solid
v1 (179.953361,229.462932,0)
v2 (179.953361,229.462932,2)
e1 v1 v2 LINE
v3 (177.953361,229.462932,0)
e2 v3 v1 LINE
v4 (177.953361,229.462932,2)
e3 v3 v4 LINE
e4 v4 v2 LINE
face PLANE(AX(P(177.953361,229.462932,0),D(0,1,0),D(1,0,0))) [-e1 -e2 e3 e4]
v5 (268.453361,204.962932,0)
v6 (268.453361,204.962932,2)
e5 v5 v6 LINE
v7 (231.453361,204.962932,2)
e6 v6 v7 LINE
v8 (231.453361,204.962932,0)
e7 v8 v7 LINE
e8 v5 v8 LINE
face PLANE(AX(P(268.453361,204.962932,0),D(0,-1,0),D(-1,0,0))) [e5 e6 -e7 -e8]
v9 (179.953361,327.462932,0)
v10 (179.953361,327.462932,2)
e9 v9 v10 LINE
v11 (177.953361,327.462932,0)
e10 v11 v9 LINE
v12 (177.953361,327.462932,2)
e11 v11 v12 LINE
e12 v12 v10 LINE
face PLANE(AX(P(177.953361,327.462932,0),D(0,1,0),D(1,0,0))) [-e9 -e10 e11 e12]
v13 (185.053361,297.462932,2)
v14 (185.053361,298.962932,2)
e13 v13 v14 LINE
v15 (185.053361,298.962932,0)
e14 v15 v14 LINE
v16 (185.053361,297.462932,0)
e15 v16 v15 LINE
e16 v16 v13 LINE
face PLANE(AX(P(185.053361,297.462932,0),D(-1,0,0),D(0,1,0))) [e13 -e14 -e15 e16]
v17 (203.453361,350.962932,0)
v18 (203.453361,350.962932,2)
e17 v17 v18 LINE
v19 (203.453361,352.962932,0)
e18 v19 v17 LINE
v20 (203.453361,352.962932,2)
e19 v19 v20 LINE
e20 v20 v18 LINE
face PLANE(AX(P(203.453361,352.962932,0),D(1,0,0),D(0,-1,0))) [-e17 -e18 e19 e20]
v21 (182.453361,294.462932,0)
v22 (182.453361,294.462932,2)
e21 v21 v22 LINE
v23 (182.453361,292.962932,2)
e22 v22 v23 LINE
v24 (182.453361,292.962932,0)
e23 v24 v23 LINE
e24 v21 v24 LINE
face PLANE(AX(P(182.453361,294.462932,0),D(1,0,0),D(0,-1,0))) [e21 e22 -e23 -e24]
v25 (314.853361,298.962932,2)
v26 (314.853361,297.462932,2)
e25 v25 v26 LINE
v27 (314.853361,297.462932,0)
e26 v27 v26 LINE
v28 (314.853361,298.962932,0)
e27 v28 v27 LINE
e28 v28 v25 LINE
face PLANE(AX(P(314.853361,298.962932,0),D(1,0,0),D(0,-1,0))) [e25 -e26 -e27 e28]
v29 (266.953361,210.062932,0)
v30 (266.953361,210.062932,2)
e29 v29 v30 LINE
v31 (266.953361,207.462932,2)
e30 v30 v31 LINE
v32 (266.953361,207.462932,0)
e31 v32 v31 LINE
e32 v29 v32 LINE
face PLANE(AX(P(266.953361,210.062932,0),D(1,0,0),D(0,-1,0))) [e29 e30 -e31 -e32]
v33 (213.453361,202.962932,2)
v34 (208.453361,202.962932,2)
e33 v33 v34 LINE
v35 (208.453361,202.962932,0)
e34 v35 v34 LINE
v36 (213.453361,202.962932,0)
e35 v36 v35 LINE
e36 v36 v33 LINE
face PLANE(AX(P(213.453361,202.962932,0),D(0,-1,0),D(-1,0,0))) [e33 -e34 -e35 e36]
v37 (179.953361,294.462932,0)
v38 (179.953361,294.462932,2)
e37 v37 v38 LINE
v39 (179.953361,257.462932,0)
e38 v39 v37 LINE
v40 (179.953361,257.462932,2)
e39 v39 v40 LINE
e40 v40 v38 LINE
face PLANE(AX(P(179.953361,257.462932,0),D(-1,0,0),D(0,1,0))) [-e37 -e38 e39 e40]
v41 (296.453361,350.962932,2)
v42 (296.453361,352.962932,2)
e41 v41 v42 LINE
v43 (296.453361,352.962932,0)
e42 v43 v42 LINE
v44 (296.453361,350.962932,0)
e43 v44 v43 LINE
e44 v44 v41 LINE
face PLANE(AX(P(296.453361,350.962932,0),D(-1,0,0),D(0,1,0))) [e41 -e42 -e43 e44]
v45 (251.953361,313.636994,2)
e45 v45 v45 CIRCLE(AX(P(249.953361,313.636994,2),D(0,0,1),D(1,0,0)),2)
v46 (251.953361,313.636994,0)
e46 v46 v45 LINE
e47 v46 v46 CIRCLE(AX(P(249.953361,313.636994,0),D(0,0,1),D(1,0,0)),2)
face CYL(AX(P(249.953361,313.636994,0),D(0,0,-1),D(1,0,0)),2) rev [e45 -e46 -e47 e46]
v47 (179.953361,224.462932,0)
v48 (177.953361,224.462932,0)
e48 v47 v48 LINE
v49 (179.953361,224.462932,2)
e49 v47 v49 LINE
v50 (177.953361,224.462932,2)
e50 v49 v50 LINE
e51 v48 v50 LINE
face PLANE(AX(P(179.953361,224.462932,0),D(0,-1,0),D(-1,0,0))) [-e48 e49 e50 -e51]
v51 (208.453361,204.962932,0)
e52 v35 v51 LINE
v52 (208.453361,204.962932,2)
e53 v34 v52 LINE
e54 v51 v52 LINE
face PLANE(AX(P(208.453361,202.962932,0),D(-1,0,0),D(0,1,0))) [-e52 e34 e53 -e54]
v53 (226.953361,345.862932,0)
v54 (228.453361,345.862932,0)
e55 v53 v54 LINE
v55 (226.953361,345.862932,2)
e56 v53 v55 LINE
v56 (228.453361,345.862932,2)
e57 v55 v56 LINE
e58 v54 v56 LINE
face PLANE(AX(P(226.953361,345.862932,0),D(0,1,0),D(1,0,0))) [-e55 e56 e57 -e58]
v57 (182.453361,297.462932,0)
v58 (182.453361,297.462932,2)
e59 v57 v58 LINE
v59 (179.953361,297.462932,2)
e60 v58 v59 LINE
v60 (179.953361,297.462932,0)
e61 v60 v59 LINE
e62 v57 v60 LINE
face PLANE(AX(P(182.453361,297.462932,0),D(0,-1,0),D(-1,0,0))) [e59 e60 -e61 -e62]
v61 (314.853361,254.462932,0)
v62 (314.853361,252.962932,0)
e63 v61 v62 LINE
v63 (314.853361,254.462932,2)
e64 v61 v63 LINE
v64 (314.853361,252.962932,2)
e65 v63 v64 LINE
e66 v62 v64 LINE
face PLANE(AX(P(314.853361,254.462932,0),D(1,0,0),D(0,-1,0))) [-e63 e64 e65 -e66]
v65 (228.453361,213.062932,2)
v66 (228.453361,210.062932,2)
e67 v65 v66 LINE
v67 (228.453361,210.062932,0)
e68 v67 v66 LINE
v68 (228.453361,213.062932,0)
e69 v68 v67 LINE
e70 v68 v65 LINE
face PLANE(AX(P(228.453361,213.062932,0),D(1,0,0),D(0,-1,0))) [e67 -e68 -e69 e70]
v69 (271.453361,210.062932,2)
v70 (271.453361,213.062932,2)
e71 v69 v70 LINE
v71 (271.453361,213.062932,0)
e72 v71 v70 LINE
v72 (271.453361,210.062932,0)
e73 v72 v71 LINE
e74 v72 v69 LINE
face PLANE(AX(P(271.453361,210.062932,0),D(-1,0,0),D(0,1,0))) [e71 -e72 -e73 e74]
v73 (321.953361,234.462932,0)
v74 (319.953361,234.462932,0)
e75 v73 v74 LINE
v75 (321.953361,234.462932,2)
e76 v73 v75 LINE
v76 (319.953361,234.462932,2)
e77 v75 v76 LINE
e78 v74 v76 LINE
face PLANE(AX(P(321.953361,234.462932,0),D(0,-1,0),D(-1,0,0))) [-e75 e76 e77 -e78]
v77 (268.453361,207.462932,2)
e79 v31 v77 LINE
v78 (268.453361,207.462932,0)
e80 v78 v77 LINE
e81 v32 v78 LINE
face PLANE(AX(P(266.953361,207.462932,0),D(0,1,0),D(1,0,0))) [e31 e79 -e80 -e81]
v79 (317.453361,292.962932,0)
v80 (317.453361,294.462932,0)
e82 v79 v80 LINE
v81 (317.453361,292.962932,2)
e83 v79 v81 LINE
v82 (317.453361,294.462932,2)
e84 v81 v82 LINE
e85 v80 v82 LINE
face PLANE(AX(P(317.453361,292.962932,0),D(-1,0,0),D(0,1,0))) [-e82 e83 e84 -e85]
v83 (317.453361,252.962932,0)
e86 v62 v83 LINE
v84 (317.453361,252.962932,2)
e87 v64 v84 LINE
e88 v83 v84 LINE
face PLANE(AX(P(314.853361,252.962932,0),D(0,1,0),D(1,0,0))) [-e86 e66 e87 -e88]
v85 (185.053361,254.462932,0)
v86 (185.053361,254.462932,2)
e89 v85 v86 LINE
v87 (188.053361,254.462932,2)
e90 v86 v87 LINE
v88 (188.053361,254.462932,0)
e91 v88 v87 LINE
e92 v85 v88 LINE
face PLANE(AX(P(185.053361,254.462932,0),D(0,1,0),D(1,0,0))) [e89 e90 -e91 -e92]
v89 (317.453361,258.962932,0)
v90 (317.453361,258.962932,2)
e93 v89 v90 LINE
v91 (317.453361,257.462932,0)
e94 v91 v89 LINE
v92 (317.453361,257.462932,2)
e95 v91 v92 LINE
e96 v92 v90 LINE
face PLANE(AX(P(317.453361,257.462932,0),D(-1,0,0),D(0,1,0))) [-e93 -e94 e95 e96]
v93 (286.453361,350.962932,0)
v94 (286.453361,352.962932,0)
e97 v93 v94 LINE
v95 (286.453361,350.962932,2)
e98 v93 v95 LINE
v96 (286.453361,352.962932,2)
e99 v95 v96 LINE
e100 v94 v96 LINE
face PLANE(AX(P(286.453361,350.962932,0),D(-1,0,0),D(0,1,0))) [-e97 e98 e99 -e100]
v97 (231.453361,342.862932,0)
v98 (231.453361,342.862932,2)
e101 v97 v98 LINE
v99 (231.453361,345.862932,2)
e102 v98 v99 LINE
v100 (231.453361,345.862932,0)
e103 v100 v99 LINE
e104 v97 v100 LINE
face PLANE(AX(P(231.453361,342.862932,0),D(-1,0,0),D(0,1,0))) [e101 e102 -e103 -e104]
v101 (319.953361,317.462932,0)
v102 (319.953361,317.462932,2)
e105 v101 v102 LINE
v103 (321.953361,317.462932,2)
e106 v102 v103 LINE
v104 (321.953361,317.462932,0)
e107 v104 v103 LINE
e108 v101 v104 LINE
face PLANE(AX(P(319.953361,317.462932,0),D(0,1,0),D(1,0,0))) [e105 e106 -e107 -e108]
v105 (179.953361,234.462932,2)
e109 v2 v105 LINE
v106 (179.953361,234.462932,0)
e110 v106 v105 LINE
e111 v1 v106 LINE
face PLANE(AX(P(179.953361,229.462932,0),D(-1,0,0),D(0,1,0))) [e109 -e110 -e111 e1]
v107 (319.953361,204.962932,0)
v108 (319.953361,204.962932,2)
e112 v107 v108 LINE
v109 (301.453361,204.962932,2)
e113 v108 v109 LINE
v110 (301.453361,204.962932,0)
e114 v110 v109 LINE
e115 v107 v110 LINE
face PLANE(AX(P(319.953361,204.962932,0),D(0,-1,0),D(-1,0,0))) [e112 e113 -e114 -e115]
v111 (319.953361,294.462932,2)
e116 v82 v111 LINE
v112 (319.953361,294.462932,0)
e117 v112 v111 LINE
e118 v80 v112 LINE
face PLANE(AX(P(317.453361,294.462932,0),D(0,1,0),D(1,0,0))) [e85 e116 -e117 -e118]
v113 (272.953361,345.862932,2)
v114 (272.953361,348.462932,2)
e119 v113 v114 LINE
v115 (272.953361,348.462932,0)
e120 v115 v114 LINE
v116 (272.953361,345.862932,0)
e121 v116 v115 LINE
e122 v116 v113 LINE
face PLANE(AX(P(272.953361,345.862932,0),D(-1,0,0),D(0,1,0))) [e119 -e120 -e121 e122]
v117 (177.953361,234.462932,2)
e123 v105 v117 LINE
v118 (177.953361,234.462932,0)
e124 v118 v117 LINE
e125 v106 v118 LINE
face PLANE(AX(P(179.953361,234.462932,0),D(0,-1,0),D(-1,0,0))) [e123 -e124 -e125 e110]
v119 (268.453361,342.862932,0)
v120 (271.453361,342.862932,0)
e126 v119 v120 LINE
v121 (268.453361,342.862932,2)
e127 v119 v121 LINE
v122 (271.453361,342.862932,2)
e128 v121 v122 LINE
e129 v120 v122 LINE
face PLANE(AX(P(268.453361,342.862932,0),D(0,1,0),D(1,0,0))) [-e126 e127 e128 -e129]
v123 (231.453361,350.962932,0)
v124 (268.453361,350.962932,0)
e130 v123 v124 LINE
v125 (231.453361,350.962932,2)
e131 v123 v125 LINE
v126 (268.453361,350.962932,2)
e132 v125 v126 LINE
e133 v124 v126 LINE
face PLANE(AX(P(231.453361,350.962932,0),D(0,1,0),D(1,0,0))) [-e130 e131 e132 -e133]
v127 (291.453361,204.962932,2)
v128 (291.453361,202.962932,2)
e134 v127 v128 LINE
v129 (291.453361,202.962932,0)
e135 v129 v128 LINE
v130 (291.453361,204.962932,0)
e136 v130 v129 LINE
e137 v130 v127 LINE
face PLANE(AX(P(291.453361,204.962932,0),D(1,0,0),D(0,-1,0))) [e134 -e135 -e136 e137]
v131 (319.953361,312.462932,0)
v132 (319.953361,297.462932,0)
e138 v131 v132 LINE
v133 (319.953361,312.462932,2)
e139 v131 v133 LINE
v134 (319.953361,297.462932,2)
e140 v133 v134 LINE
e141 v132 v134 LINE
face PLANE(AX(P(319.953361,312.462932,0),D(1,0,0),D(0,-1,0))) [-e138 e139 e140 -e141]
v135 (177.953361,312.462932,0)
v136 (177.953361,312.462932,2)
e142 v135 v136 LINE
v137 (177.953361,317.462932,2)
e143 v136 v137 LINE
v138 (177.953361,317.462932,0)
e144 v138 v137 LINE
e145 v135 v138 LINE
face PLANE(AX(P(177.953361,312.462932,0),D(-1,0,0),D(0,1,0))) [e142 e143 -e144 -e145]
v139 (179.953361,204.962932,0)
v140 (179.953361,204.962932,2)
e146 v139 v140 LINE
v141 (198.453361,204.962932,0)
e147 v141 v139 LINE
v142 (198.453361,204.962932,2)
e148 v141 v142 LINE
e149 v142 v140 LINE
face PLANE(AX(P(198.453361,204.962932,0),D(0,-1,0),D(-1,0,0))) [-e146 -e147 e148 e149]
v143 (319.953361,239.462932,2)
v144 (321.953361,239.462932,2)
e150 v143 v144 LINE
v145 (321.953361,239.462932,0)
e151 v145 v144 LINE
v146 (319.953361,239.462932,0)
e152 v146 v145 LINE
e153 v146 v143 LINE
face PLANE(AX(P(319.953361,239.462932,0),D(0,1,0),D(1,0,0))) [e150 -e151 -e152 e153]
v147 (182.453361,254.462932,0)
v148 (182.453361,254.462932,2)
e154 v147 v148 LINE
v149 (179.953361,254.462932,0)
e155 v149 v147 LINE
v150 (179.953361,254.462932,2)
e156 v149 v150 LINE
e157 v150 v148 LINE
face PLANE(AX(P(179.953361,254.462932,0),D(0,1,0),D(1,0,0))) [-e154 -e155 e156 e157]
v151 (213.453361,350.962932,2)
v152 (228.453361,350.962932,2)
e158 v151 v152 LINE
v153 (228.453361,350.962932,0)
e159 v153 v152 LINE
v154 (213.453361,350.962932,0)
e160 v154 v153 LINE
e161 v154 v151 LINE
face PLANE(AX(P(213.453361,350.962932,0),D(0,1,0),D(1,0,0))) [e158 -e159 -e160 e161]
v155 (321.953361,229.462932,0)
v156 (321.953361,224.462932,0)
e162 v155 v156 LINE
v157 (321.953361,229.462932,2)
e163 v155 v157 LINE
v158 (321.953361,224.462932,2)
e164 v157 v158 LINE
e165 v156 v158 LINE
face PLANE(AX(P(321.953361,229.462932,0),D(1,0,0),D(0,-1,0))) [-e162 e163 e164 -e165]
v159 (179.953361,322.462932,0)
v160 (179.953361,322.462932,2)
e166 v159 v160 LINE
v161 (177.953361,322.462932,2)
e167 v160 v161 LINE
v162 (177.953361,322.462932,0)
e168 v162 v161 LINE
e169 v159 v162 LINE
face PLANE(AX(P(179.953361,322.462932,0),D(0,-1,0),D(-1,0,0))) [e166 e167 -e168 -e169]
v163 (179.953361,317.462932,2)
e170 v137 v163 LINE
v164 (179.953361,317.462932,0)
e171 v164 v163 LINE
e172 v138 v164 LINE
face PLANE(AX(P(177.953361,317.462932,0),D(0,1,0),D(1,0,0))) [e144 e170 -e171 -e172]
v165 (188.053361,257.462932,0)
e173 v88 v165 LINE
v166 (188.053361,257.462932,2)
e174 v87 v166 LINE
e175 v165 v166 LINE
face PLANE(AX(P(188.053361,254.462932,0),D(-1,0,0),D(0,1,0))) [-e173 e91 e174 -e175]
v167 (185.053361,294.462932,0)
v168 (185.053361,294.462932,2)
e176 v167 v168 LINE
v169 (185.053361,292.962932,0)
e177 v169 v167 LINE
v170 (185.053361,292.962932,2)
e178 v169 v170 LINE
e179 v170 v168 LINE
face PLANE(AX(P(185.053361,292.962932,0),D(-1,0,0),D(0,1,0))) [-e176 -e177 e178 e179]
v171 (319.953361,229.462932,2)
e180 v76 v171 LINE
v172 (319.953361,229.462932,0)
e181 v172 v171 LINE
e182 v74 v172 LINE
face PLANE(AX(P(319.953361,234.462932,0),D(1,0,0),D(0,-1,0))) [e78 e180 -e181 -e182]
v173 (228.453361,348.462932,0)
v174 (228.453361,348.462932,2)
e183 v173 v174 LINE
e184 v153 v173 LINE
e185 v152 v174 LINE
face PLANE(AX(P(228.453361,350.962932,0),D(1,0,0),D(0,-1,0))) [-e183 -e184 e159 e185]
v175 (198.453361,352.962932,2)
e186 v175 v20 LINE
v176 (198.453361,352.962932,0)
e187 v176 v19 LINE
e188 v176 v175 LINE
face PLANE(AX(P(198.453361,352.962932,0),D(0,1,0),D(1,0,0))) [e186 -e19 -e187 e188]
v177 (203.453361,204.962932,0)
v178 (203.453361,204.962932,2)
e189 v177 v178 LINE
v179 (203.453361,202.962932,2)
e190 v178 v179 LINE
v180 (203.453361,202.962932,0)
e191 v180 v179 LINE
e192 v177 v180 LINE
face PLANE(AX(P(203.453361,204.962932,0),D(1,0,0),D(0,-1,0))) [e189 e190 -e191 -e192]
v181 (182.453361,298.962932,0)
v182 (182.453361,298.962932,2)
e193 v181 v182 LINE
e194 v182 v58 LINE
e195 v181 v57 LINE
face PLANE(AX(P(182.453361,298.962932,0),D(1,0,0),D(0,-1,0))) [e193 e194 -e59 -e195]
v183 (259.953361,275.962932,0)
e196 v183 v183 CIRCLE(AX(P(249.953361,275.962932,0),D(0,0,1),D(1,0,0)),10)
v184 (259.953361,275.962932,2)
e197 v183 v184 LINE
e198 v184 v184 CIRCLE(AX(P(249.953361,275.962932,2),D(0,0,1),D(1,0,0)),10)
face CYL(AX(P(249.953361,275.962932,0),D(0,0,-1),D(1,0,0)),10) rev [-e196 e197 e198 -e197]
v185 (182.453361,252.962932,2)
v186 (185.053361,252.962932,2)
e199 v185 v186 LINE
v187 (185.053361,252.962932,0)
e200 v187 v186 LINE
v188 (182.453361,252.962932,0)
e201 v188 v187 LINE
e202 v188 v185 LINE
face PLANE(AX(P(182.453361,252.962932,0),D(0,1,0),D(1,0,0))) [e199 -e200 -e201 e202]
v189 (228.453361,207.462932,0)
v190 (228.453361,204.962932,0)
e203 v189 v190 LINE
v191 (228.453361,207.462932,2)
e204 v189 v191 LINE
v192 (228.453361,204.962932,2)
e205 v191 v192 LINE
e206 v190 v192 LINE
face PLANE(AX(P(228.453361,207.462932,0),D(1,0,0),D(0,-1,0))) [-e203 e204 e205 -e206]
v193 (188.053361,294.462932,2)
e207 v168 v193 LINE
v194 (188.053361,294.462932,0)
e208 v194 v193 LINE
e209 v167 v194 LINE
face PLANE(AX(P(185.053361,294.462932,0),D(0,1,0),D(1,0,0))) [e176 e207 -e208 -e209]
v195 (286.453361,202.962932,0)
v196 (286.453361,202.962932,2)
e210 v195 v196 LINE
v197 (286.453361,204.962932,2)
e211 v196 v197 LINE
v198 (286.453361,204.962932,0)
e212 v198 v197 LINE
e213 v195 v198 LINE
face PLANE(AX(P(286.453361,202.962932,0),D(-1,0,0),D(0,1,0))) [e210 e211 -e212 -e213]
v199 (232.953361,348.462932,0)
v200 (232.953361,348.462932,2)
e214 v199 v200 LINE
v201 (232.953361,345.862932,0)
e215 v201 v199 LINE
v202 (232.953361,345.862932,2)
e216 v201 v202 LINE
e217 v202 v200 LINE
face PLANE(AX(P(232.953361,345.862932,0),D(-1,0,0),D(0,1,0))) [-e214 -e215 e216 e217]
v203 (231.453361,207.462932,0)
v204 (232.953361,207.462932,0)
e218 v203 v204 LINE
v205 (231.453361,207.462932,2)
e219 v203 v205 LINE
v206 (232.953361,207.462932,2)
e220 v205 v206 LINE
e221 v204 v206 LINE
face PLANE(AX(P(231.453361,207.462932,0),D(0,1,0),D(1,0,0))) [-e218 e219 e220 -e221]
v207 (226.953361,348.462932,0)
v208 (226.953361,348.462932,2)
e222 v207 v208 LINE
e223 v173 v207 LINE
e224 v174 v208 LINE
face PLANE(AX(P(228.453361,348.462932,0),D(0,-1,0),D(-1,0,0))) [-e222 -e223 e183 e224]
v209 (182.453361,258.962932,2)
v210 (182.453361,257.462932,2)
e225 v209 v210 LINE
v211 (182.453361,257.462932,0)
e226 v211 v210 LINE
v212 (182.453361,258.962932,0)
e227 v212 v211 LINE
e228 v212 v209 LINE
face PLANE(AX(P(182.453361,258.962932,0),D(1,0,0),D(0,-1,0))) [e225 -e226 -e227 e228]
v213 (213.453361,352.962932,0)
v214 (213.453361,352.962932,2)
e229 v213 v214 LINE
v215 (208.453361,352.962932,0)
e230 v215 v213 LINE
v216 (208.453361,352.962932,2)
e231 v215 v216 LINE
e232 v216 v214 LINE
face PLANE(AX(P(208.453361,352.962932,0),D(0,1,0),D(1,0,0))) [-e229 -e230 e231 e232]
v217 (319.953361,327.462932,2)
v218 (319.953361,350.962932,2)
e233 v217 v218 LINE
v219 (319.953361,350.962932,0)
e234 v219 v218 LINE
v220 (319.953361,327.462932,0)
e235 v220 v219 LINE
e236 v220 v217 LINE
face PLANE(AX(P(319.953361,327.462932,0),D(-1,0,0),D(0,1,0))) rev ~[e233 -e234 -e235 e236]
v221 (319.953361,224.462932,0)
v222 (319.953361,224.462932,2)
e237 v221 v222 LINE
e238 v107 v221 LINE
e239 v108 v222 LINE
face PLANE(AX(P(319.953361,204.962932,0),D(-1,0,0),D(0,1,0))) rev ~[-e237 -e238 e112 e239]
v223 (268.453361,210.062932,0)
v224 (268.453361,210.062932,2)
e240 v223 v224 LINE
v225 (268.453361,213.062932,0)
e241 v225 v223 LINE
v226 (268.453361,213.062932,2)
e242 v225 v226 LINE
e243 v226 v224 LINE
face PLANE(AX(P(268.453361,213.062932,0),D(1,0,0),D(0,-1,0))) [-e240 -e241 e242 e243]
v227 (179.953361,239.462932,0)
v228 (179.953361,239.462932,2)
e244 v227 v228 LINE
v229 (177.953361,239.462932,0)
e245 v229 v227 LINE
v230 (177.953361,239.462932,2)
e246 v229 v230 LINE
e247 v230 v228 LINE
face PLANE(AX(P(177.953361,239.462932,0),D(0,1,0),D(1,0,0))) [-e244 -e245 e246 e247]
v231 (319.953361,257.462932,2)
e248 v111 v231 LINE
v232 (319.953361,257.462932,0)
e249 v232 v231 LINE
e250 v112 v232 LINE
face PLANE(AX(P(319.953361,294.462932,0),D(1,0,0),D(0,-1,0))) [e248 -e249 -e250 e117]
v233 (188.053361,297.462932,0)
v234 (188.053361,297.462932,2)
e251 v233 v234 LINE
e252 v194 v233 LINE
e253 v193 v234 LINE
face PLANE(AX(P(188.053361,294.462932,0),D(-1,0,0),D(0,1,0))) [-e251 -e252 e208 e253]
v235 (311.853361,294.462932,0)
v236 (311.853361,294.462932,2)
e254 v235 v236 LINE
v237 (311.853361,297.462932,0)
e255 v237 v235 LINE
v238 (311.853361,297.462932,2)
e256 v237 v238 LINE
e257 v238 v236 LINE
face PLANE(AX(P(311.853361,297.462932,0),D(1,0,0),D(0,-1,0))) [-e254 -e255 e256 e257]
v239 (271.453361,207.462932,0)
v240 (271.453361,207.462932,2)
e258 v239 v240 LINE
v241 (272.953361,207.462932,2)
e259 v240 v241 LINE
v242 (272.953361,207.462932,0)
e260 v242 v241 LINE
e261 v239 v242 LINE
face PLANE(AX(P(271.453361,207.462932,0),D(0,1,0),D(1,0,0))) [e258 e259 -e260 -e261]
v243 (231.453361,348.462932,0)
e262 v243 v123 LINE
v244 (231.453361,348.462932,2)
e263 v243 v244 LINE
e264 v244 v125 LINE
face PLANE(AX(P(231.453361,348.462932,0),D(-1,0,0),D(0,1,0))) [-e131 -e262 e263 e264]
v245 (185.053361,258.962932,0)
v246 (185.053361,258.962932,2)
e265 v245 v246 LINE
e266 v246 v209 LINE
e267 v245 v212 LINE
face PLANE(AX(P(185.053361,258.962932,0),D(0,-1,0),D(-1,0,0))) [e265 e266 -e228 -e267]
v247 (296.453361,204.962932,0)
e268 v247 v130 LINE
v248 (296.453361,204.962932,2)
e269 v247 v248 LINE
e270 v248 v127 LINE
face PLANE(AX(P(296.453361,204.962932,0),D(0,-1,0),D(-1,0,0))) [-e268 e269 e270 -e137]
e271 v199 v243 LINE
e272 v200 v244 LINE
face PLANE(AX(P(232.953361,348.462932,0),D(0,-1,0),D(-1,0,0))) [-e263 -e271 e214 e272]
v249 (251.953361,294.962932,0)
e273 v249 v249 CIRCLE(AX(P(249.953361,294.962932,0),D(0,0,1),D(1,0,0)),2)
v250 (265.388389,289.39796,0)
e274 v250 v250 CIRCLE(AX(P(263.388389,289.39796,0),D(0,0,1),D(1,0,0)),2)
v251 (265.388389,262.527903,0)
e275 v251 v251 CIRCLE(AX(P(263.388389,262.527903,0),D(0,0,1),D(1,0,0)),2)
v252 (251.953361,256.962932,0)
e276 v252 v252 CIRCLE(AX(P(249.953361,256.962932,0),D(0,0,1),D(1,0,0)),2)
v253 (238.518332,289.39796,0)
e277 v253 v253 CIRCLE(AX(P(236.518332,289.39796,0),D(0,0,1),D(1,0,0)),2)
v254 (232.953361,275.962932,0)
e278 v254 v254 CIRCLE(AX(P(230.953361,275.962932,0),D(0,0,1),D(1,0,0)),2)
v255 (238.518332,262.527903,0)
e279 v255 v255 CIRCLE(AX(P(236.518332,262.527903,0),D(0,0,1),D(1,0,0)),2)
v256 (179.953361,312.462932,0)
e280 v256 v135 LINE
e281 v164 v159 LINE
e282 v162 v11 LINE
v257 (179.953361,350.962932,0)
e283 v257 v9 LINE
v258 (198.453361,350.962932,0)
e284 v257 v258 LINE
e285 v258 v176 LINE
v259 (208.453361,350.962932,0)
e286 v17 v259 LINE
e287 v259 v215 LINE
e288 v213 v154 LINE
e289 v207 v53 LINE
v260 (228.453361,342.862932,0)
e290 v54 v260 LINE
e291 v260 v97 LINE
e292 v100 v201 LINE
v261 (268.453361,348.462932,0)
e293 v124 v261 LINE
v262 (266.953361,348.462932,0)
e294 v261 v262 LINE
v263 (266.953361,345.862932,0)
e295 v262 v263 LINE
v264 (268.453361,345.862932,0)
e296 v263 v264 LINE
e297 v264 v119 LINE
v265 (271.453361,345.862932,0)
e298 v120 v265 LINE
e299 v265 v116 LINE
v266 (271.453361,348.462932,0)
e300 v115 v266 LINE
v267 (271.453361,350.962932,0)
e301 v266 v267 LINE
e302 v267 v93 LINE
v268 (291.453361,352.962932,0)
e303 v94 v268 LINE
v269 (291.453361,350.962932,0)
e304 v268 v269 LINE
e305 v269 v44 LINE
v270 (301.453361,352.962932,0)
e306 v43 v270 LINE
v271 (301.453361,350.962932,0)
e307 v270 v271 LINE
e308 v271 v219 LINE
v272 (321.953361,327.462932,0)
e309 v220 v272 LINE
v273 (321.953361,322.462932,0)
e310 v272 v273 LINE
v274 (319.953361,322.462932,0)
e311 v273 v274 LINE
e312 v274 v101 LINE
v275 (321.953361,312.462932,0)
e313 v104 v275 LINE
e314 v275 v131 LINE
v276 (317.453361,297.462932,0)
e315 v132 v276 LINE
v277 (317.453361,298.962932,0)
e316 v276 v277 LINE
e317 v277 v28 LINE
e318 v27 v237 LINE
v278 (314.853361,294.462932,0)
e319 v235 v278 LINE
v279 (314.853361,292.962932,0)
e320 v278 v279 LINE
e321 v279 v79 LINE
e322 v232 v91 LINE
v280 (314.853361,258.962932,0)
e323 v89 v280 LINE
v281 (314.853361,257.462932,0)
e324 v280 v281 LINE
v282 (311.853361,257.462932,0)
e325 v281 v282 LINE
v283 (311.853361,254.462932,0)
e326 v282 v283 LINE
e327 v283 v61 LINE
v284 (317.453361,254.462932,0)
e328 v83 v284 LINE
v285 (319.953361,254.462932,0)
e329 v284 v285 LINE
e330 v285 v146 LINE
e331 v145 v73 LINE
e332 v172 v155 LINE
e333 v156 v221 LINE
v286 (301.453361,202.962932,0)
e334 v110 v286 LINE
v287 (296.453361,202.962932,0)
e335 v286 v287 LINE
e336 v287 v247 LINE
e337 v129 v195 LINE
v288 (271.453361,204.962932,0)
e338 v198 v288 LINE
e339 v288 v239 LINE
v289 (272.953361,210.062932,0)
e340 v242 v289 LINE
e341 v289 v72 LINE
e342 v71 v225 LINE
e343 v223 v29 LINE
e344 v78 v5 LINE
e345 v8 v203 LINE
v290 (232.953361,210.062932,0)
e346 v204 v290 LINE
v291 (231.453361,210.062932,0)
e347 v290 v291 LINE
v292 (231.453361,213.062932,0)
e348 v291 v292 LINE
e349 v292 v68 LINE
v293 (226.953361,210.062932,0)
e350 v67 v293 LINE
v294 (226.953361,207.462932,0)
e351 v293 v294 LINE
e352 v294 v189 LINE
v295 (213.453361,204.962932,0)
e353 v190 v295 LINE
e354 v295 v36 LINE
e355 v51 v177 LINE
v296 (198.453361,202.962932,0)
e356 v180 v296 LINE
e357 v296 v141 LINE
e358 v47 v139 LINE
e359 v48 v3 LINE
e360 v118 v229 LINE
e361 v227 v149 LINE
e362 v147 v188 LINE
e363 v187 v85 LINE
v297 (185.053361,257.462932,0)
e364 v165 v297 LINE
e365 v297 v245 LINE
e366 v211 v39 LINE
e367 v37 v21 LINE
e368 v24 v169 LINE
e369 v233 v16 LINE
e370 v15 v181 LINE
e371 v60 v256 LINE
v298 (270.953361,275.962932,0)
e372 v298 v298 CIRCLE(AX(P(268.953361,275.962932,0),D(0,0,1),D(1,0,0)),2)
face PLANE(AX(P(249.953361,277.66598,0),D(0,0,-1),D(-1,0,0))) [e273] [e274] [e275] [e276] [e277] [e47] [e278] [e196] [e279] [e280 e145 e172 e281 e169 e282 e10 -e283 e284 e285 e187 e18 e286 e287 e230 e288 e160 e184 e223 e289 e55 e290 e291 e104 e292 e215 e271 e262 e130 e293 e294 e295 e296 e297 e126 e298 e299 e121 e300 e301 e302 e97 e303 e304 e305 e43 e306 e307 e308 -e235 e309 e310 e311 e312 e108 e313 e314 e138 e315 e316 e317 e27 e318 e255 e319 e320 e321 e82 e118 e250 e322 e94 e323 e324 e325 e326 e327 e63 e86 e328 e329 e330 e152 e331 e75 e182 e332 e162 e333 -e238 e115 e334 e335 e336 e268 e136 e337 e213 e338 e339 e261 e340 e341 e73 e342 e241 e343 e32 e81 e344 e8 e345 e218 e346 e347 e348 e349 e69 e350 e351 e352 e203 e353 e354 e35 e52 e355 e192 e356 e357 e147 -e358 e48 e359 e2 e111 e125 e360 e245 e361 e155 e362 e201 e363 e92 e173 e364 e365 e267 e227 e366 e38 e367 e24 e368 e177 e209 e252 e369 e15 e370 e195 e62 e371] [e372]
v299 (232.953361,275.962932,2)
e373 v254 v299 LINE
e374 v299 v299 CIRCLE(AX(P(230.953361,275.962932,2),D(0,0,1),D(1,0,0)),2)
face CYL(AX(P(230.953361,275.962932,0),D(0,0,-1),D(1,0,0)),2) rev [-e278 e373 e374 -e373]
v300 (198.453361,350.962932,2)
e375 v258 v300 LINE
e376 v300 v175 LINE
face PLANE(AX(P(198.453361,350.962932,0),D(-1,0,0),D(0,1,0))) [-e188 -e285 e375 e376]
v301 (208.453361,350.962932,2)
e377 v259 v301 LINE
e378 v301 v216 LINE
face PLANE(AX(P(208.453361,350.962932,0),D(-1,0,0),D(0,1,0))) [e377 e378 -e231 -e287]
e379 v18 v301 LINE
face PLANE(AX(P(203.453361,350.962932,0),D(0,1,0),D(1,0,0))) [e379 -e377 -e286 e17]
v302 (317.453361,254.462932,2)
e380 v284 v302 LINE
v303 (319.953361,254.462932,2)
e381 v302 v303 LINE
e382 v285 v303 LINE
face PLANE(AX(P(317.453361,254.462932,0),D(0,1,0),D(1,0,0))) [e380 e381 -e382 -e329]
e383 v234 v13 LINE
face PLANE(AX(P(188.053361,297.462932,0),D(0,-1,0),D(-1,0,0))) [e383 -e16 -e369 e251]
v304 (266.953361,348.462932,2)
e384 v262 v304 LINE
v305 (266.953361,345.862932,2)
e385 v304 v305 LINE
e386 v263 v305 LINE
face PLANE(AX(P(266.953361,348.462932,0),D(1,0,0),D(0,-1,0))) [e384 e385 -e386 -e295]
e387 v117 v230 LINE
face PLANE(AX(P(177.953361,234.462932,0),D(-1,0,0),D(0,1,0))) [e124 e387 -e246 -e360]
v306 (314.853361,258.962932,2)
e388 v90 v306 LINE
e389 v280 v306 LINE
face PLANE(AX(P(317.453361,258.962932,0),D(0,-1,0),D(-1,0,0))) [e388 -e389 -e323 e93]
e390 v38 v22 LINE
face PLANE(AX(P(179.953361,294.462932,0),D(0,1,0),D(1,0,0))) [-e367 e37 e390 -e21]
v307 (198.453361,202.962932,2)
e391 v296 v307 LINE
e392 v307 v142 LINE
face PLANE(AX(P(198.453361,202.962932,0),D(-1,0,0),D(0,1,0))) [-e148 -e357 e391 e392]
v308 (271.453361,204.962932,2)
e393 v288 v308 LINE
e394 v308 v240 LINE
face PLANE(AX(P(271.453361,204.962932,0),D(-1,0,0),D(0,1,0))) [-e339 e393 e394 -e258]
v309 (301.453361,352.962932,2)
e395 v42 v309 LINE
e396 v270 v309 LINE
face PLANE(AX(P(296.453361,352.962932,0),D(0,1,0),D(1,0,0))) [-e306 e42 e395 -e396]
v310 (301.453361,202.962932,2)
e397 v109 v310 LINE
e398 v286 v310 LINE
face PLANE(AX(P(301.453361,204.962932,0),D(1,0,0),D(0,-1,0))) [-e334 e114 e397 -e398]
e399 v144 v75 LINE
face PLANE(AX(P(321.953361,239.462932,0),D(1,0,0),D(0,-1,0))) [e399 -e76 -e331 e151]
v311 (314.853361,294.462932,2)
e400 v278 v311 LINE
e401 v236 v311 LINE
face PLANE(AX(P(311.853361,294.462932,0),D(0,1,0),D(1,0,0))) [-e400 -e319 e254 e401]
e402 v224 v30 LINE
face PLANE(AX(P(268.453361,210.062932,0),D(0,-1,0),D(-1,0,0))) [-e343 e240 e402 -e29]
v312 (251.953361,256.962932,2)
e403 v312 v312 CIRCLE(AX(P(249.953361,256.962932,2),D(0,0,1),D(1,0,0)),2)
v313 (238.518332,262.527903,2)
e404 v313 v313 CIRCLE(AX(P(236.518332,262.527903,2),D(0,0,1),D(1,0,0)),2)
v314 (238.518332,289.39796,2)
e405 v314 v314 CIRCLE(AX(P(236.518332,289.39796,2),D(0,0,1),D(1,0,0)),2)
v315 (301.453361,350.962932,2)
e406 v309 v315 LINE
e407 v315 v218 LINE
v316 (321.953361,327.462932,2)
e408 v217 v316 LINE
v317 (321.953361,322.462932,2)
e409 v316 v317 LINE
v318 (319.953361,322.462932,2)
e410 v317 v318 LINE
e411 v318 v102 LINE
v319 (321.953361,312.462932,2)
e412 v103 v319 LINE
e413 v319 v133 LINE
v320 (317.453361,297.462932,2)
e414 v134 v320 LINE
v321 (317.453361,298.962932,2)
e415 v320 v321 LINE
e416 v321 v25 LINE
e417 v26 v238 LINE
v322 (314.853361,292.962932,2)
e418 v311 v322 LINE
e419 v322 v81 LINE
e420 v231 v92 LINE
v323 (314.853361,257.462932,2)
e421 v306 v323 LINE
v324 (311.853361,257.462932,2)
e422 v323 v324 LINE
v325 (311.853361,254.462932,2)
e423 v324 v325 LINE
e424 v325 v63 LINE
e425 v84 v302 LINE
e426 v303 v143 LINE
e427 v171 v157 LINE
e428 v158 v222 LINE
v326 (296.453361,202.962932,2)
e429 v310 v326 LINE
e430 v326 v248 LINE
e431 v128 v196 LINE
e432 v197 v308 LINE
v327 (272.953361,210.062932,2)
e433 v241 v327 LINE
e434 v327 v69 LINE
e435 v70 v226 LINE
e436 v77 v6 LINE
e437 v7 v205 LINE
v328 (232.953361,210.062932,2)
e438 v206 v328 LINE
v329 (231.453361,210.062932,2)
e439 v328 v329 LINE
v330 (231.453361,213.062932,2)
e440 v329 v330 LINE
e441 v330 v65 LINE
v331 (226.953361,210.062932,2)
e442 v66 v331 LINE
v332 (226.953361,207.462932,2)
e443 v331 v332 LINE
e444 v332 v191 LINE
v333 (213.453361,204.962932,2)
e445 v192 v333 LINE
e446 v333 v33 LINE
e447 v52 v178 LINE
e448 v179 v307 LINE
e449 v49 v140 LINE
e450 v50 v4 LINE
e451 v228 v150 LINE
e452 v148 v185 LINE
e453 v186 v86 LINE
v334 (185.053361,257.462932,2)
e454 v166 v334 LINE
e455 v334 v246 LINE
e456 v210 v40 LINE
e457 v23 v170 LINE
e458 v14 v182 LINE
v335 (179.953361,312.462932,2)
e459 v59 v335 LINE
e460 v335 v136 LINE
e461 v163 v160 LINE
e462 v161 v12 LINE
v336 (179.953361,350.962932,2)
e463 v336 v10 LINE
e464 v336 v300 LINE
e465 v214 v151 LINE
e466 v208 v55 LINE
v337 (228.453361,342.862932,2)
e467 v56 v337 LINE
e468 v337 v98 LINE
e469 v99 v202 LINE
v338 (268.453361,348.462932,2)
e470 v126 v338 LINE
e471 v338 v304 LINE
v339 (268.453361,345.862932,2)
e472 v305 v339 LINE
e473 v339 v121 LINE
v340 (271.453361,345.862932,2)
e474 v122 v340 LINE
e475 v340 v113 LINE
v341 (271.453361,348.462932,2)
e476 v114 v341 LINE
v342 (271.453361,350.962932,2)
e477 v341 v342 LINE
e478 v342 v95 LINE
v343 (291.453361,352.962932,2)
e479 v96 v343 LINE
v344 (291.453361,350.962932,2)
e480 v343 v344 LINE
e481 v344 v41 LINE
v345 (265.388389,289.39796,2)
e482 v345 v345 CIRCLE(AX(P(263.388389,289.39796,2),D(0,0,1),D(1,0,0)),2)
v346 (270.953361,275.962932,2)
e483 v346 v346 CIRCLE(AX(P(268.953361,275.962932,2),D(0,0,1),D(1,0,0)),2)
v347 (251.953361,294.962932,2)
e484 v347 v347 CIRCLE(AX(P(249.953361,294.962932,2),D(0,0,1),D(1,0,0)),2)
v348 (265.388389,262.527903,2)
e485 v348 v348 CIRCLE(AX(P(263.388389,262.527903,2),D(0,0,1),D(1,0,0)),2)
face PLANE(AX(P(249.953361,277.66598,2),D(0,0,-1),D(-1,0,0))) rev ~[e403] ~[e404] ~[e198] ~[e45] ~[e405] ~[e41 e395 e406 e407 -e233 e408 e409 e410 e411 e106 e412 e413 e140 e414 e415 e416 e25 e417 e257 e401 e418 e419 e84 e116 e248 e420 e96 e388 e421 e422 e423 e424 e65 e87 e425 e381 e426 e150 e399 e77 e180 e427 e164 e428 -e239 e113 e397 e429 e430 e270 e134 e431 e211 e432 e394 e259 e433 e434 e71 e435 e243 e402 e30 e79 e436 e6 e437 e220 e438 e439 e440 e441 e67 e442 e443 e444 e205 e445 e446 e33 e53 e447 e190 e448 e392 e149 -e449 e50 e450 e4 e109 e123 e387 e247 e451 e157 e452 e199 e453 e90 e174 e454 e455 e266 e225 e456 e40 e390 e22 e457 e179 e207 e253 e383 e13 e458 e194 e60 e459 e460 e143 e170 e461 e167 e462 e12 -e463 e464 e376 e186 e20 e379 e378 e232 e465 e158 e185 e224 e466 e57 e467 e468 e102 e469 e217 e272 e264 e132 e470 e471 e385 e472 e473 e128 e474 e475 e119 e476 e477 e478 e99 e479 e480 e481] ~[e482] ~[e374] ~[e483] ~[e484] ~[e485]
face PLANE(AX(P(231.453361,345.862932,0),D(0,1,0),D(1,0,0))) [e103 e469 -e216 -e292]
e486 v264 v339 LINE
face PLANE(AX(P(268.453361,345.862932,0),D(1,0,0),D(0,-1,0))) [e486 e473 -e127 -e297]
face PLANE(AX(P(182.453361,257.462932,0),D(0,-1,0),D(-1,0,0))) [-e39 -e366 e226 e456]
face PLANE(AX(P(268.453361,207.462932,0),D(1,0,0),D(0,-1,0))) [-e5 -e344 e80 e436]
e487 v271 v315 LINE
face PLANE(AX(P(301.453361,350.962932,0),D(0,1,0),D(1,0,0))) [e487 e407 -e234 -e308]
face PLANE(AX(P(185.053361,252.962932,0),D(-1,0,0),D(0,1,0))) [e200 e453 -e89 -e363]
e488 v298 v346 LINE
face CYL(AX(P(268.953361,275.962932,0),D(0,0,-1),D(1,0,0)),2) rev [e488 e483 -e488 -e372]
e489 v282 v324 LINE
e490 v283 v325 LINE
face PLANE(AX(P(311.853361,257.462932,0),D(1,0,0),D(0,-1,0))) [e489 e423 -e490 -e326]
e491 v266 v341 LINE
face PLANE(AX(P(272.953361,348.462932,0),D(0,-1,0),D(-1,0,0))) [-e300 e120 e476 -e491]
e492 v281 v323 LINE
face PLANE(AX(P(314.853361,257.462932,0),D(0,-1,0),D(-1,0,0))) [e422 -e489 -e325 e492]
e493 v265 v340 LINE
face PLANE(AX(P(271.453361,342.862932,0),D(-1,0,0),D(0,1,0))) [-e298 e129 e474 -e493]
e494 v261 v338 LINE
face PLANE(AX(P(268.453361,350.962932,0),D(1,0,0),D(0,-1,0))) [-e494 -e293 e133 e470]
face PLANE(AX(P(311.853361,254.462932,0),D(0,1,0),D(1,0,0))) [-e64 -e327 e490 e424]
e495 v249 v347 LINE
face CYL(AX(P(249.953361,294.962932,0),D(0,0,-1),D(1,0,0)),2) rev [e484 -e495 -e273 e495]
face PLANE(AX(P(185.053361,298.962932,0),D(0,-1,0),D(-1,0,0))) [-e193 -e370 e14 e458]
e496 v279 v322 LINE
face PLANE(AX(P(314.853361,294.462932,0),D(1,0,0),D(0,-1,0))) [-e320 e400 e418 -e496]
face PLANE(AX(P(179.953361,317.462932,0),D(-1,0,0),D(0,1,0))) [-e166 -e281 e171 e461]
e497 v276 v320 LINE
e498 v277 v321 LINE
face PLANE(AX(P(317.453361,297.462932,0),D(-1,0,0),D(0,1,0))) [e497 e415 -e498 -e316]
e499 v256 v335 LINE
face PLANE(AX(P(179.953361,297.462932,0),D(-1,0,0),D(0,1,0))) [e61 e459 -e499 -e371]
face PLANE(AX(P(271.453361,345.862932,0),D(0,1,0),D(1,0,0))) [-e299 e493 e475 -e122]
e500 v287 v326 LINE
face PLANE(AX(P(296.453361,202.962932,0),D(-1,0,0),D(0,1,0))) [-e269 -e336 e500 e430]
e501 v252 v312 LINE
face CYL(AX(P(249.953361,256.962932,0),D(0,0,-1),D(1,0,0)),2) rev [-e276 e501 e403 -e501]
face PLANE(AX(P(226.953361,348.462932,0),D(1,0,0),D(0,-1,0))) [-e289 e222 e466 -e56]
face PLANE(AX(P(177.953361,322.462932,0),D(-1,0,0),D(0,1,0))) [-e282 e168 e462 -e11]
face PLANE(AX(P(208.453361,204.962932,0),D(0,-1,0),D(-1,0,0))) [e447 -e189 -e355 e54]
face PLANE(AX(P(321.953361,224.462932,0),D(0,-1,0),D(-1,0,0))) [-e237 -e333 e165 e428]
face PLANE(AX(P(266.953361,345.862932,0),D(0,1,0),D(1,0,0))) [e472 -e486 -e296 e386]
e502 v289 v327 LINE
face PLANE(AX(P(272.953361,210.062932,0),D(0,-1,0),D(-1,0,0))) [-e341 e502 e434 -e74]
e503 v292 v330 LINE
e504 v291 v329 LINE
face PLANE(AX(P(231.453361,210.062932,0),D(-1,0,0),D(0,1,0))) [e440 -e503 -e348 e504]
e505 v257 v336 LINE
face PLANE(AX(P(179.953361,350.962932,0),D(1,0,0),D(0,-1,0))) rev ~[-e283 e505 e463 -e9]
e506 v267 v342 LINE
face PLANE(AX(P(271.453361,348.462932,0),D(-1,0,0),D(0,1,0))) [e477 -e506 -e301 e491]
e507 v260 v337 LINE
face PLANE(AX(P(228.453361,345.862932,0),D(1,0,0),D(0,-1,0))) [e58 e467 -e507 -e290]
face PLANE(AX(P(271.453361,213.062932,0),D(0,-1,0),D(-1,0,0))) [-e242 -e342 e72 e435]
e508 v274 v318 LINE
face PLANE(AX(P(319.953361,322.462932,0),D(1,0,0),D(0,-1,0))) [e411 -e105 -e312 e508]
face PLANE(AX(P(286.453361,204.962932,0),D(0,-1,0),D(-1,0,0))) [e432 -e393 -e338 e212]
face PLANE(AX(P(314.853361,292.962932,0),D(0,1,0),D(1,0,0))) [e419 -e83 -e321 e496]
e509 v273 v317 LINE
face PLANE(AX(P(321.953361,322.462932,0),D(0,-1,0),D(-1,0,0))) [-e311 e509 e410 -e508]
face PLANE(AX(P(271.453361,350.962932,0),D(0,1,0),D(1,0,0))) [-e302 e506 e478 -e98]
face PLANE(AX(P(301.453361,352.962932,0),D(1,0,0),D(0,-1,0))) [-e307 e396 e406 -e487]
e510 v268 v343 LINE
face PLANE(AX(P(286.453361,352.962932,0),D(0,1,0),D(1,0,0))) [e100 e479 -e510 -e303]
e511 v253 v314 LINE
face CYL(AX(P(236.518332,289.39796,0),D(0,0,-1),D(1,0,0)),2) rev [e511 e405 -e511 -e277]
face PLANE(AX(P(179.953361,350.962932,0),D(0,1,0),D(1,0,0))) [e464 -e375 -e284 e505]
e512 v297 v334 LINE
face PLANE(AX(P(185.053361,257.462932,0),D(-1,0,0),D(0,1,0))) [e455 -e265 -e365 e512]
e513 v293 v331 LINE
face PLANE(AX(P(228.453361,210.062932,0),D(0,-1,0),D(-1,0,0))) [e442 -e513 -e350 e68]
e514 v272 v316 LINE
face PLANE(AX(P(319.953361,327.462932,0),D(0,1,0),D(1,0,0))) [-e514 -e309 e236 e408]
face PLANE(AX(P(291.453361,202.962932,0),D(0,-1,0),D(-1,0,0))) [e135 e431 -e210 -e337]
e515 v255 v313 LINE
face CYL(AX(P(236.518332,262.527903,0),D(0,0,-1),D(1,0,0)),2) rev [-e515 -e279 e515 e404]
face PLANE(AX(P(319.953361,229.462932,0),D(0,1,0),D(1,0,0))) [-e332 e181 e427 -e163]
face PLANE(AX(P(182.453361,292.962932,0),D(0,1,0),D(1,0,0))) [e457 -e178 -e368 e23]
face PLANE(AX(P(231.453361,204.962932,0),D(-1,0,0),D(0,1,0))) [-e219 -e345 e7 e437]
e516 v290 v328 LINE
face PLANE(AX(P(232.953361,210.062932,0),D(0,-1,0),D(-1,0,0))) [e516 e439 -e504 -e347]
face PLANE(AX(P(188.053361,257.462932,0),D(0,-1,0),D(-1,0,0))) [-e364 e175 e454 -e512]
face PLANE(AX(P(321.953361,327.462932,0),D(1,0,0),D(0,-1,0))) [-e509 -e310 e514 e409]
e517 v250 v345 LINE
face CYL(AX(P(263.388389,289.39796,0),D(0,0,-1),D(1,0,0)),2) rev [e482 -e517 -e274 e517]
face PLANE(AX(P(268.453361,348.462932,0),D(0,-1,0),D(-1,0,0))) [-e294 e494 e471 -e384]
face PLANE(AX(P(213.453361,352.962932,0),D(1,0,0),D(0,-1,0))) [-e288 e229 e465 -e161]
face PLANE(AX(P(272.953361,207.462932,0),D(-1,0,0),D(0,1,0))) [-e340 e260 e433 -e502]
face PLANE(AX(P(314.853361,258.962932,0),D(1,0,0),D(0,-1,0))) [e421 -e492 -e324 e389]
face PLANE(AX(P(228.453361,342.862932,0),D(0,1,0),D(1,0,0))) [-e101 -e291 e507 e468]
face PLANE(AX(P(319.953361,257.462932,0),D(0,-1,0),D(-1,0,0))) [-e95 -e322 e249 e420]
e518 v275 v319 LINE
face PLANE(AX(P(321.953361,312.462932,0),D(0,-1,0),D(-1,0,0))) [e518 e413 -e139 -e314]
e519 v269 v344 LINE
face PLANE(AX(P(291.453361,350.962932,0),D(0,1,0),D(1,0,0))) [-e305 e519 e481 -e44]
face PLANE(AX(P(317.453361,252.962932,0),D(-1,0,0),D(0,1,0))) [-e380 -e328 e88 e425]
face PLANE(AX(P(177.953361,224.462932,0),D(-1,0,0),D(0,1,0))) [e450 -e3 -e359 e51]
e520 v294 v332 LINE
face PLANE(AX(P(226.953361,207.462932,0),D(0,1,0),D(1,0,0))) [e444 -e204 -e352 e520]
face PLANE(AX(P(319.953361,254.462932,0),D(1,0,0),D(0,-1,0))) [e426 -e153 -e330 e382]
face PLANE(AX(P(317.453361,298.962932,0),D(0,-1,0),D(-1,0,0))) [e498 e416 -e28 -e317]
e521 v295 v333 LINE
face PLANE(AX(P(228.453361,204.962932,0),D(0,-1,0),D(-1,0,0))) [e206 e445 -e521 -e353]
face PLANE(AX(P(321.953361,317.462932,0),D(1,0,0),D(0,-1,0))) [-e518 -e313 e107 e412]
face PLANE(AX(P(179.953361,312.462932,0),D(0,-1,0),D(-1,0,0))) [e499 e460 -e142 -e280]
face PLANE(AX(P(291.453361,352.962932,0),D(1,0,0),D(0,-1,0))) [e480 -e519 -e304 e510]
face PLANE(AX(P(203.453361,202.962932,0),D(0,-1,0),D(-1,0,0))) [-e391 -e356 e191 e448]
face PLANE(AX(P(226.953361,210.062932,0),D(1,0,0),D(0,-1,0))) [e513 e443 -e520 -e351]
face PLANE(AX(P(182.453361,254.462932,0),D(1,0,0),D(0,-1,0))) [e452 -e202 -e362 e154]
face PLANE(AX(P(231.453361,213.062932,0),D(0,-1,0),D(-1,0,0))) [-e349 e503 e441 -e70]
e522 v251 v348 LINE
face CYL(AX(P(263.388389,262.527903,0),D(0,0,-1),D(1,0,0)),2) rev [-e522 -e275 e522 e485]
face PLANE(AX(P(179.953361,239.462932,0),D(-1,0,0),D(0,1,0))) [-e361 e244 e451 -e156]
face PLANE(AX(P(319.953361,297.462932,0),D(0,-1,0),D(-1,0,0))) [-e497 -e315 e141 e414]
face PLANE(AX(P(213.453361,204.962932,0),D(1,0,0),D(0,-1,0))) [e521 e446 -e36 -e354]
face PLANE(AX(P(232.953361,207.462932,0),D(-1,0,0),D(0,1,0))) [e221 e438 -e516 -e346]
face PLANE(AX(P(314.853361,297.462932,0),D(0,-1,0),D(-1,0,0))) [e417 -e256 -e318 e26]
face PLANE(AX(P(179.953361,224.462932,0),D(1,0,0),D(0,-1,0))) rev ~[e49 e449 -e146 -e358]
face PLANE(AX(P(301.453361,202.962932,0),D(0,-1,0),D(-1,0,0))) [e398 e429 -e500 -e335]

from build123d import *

# Parameters (mm, degrees)
SKETCH_1_R      = 10
SKETCH_1_R_2    = 2
EXTRUDE_1_DEPTH = 2


with BuildPart() as part:
    # 草图1 → 凸台-拉伸1 (new body)
    with BuildSketch(Plane.XY):
        Polygon((317.453360513, 257.462931603), (317.453360513, 258.962931602), (314.853360513, 258.962931602), (314.853360513, 257.462931603), (311.853360513, 257.462931603), (311.853360513, 254.462931603), (314.853360513, 254.462931603), (314.853360513, 252.962931603), (317.453360513, 252.962931603), (317.453360513, 254.462931603), (319.953360513, 254.462931603), (319.953360513, 239.462931603), (321.953360513, 239.462931603), (321.953360513, 234.462931603), (319.953360513, 234.462931603), (319.953360513, 229.462931603), (321.953360513, 229.462931603), (321.953360513, 224.462931603), (319.953360513, 224.462931603), (319.953360513, 219.462931603), (319.953360513, 204.962931603), (301.453360513, 204.962931603), (301.453360513, 202.962931603), (296.453360513, 202.962931603), (296.453360513, 204.962931603), (291.453360513, 204.962931603), (291.453360513, 202.962931603), (286.453360513, 202.962931603), (286.453360513, 204.962931603), (271.453360513, 204.962931603), (271.453360513, 207.462931603), (272.953360513, 207.462931603), (272.953360513, 210.062931603), (271.453360513, 210.062931603), (271.453360513, 213.062931603), (268.453360513, 213.062931603), (268.453360513, 210.062931603), (266.953360513, 210.062931603), (266.953360513, 207.462931603), (268.453360513, 207.462931603), (268.453360513, 204.962931603), (231.453360513, 204.962931603), (231.453360513, 207.462931603), (232.953360513, 207.462931603), (232.953360513, 210.062931603), (231.453360513, 210.062931603), (231.453360513, 213.062931603), (228.453360513, 213.062931603), (228.453360513, 210.062931603), (226.953360513, 210.062931603), (226.953360513, 207.462931603), (228.453360513, 207.462931603), (228.453360513, 204.962931603), (213.453360513, 204.962931603), (213.453360513, 202.962931603), (208.453360513, 202.962931603), (208.453360513, 204.962931603), (203.453360513, 204.962931603), (203.453360513, 202.962931603), (198.453360513, 202.962931603), (198.453360513, 204.962931603), (179.953360513, 204.962931603), (179.953360513, 219.462931603), (179.953360513, 224.462931603), (177.953360513, 224.462931603), (177.953360513, 229.462931603), (179.953360513, 229.462931603), (179.953360513, 234.462931603), (177.953360513, 234.462931603), (177.953360513, 239.462931603), (179.953360513, 239.462931603), (179.953360513, 254.462931603), (182.453360513, 254.462931603), (182.453360513, 252.962931603), (185.053360513, 252.962931603), (185.053360513, 254.462931603), (188.053360513, 254.462931603), (188.053360513, 257.462931603), (185.053360513, 257.462931603), (185.053360513, 258.962931602), (182.453360513, 258.962931602), (182.453360513, 257.462931603), (179.953360513, 257.462931603), (179.953360513, 294.462931603), (182.453360513, 294.462931603), (182.453360513, 292.962931603), (185.053360513, 292.962931603), (185.053360513, 294.462931603), (188.053360513, 294.462931603), (188.053360513, 297.462931603), (185.053360513, 297.462931603), (185.053360513, 298.962931603), (182.453360513, 298.962931603), (182.453360513, 297.462931603), (179.953360513, 297.462931603), (179.953360513, 312.462931602), (177.953360513, 312.462931602), (177.953360513, 317.462931602), (179.953360513, 317.462931602), (179.953360513, 322.462931603), (177.953360513, 322.462931603), (177.953360513, 327.462931603), (179.953360513, 327.462931603), (179.953360513, 332.462931603), (179.953360513, 350.962931603), (198.453360513, 350.962931603), (198.453360513, 352.962931603), (203.453360513, 352.962931603), (203.453360513, 350.962931603), (208.453360513, 350.962931603), (208.453360513, 352.962931603), (213.453360513, 352.962931603), (213.453360513, 350.962931603), (228.453360513, 350.962931603), (228.453360513, 348.462931603), (226.953360513, 348.462931603), (226.953360513, 345.862931603), (228.453360513, 345.862931603), (228.453360513, 342.862931603), (231.453360513, 342.862931603), (231.453360513, 345.862931603), (232.953360513, 345.862931603), (232.953360513, 348.462931603), (231.453360513, 348.462931603), (231.453360513, 350.962931603), (268.453360513, 350.962931603), (268.453360513, 348.462931603), (266.953360513, 348.462931603), (266.953360513, 345.862931603), (268.453360513, 345.862931603), (268.453360513, 342.862931603), (271.453360513, 342.862931603), (271.453360513, 345.862931603), (272.953360513, 345.862931603), (272.953360513, 348.462931603), (271.453360513, 348.462931603), (271.453360513, 350.962931603), (286.453360513, 350.962931603), (286.453360513, 352.962931603), (291.453360513, 352.962931603), (291.453360513, 350.962931603), (296.453360513, 350.962931603), (296.453360513, 352.962931603), (301.453360513, 352.962931603), (301.453360513, 350.962931603), (319.953360513, 350.962931603), (319.953360513, 332.462931603), (319.953360513, 327.462931603), (321.953360513, 327.462931603), (321.953360513, 322.462931603), (319.953360513, 322.462931603), (319.953360513, 317.462931602), (321.953360513, 317.462931602), (321.953360513, 312.462931602), (319.953360513, 312.462931602), (319.953360513, 297.462931603), (317.453360513, 297.462931603), (317.453360513, 298.962931603), (314.853360513, 298.962931603), (314.853360513, 297.462931603), (311.853360513, 297.462931603), (311.853360513, 294.462931603), (314.853360513, 294.462931603), (314.853360513, 292.962931603), (317.453360513, 292.962931603), (317.453360513, 294.462931603), (319.953360513, 294.462931603), (319.953360513, 257.462931603), align=None)
        with Locations((249.953360513, 275.962931603)):
            Circle(SKETCH_1_R, mode=Mode.SUBTRACT)
        with Locations((230.953360513, 275.962931603)):
            Circle(SKETCH_1_R_2, mode=Mode.SUBTRACT)
        with Locations((236.518331671, 289.397960445)):
            Circle(SKETCH_1_R_2, mode=Mode.SUBTRACT)
        with Locations((249.953360513, 294.962931603)):
            Circle(SKETCH_1_R_2, mode=Mode.SUBTRACT)
        with Locations((263.388389356, 289.397960445)):
            Circle(SKETCH_1_R_2, mode=Mode.SUBTRACT)
        with Locations((268.953360513, 275.962931603)):
            Circle(SKETCH_1_R_2, mode=Mode.SUBTRACT)
        with Locations((263.388389356, 262.52790276)):
            Circle(SKETCH_1_R_2, mode=Mode.SUBTRACT)
        with Locations((249.953360513, 256.962931603)):
            Circle(SKETCH_1_R_2, mode=Mode.SUBTRACT)
        with Locations((236.518331671, 262.52790276)):
            Circle(SKETCH_1_R_2, mode=Mode.SUBTRACT)
        with Locations((249.953360513, 313.636994259)):
            Circle(SKETCH_1_R_2, mode=Mode.SUBTRACT)
    extrude(amount=EXTRUDE_1_DEPTH)


solid = part.part
